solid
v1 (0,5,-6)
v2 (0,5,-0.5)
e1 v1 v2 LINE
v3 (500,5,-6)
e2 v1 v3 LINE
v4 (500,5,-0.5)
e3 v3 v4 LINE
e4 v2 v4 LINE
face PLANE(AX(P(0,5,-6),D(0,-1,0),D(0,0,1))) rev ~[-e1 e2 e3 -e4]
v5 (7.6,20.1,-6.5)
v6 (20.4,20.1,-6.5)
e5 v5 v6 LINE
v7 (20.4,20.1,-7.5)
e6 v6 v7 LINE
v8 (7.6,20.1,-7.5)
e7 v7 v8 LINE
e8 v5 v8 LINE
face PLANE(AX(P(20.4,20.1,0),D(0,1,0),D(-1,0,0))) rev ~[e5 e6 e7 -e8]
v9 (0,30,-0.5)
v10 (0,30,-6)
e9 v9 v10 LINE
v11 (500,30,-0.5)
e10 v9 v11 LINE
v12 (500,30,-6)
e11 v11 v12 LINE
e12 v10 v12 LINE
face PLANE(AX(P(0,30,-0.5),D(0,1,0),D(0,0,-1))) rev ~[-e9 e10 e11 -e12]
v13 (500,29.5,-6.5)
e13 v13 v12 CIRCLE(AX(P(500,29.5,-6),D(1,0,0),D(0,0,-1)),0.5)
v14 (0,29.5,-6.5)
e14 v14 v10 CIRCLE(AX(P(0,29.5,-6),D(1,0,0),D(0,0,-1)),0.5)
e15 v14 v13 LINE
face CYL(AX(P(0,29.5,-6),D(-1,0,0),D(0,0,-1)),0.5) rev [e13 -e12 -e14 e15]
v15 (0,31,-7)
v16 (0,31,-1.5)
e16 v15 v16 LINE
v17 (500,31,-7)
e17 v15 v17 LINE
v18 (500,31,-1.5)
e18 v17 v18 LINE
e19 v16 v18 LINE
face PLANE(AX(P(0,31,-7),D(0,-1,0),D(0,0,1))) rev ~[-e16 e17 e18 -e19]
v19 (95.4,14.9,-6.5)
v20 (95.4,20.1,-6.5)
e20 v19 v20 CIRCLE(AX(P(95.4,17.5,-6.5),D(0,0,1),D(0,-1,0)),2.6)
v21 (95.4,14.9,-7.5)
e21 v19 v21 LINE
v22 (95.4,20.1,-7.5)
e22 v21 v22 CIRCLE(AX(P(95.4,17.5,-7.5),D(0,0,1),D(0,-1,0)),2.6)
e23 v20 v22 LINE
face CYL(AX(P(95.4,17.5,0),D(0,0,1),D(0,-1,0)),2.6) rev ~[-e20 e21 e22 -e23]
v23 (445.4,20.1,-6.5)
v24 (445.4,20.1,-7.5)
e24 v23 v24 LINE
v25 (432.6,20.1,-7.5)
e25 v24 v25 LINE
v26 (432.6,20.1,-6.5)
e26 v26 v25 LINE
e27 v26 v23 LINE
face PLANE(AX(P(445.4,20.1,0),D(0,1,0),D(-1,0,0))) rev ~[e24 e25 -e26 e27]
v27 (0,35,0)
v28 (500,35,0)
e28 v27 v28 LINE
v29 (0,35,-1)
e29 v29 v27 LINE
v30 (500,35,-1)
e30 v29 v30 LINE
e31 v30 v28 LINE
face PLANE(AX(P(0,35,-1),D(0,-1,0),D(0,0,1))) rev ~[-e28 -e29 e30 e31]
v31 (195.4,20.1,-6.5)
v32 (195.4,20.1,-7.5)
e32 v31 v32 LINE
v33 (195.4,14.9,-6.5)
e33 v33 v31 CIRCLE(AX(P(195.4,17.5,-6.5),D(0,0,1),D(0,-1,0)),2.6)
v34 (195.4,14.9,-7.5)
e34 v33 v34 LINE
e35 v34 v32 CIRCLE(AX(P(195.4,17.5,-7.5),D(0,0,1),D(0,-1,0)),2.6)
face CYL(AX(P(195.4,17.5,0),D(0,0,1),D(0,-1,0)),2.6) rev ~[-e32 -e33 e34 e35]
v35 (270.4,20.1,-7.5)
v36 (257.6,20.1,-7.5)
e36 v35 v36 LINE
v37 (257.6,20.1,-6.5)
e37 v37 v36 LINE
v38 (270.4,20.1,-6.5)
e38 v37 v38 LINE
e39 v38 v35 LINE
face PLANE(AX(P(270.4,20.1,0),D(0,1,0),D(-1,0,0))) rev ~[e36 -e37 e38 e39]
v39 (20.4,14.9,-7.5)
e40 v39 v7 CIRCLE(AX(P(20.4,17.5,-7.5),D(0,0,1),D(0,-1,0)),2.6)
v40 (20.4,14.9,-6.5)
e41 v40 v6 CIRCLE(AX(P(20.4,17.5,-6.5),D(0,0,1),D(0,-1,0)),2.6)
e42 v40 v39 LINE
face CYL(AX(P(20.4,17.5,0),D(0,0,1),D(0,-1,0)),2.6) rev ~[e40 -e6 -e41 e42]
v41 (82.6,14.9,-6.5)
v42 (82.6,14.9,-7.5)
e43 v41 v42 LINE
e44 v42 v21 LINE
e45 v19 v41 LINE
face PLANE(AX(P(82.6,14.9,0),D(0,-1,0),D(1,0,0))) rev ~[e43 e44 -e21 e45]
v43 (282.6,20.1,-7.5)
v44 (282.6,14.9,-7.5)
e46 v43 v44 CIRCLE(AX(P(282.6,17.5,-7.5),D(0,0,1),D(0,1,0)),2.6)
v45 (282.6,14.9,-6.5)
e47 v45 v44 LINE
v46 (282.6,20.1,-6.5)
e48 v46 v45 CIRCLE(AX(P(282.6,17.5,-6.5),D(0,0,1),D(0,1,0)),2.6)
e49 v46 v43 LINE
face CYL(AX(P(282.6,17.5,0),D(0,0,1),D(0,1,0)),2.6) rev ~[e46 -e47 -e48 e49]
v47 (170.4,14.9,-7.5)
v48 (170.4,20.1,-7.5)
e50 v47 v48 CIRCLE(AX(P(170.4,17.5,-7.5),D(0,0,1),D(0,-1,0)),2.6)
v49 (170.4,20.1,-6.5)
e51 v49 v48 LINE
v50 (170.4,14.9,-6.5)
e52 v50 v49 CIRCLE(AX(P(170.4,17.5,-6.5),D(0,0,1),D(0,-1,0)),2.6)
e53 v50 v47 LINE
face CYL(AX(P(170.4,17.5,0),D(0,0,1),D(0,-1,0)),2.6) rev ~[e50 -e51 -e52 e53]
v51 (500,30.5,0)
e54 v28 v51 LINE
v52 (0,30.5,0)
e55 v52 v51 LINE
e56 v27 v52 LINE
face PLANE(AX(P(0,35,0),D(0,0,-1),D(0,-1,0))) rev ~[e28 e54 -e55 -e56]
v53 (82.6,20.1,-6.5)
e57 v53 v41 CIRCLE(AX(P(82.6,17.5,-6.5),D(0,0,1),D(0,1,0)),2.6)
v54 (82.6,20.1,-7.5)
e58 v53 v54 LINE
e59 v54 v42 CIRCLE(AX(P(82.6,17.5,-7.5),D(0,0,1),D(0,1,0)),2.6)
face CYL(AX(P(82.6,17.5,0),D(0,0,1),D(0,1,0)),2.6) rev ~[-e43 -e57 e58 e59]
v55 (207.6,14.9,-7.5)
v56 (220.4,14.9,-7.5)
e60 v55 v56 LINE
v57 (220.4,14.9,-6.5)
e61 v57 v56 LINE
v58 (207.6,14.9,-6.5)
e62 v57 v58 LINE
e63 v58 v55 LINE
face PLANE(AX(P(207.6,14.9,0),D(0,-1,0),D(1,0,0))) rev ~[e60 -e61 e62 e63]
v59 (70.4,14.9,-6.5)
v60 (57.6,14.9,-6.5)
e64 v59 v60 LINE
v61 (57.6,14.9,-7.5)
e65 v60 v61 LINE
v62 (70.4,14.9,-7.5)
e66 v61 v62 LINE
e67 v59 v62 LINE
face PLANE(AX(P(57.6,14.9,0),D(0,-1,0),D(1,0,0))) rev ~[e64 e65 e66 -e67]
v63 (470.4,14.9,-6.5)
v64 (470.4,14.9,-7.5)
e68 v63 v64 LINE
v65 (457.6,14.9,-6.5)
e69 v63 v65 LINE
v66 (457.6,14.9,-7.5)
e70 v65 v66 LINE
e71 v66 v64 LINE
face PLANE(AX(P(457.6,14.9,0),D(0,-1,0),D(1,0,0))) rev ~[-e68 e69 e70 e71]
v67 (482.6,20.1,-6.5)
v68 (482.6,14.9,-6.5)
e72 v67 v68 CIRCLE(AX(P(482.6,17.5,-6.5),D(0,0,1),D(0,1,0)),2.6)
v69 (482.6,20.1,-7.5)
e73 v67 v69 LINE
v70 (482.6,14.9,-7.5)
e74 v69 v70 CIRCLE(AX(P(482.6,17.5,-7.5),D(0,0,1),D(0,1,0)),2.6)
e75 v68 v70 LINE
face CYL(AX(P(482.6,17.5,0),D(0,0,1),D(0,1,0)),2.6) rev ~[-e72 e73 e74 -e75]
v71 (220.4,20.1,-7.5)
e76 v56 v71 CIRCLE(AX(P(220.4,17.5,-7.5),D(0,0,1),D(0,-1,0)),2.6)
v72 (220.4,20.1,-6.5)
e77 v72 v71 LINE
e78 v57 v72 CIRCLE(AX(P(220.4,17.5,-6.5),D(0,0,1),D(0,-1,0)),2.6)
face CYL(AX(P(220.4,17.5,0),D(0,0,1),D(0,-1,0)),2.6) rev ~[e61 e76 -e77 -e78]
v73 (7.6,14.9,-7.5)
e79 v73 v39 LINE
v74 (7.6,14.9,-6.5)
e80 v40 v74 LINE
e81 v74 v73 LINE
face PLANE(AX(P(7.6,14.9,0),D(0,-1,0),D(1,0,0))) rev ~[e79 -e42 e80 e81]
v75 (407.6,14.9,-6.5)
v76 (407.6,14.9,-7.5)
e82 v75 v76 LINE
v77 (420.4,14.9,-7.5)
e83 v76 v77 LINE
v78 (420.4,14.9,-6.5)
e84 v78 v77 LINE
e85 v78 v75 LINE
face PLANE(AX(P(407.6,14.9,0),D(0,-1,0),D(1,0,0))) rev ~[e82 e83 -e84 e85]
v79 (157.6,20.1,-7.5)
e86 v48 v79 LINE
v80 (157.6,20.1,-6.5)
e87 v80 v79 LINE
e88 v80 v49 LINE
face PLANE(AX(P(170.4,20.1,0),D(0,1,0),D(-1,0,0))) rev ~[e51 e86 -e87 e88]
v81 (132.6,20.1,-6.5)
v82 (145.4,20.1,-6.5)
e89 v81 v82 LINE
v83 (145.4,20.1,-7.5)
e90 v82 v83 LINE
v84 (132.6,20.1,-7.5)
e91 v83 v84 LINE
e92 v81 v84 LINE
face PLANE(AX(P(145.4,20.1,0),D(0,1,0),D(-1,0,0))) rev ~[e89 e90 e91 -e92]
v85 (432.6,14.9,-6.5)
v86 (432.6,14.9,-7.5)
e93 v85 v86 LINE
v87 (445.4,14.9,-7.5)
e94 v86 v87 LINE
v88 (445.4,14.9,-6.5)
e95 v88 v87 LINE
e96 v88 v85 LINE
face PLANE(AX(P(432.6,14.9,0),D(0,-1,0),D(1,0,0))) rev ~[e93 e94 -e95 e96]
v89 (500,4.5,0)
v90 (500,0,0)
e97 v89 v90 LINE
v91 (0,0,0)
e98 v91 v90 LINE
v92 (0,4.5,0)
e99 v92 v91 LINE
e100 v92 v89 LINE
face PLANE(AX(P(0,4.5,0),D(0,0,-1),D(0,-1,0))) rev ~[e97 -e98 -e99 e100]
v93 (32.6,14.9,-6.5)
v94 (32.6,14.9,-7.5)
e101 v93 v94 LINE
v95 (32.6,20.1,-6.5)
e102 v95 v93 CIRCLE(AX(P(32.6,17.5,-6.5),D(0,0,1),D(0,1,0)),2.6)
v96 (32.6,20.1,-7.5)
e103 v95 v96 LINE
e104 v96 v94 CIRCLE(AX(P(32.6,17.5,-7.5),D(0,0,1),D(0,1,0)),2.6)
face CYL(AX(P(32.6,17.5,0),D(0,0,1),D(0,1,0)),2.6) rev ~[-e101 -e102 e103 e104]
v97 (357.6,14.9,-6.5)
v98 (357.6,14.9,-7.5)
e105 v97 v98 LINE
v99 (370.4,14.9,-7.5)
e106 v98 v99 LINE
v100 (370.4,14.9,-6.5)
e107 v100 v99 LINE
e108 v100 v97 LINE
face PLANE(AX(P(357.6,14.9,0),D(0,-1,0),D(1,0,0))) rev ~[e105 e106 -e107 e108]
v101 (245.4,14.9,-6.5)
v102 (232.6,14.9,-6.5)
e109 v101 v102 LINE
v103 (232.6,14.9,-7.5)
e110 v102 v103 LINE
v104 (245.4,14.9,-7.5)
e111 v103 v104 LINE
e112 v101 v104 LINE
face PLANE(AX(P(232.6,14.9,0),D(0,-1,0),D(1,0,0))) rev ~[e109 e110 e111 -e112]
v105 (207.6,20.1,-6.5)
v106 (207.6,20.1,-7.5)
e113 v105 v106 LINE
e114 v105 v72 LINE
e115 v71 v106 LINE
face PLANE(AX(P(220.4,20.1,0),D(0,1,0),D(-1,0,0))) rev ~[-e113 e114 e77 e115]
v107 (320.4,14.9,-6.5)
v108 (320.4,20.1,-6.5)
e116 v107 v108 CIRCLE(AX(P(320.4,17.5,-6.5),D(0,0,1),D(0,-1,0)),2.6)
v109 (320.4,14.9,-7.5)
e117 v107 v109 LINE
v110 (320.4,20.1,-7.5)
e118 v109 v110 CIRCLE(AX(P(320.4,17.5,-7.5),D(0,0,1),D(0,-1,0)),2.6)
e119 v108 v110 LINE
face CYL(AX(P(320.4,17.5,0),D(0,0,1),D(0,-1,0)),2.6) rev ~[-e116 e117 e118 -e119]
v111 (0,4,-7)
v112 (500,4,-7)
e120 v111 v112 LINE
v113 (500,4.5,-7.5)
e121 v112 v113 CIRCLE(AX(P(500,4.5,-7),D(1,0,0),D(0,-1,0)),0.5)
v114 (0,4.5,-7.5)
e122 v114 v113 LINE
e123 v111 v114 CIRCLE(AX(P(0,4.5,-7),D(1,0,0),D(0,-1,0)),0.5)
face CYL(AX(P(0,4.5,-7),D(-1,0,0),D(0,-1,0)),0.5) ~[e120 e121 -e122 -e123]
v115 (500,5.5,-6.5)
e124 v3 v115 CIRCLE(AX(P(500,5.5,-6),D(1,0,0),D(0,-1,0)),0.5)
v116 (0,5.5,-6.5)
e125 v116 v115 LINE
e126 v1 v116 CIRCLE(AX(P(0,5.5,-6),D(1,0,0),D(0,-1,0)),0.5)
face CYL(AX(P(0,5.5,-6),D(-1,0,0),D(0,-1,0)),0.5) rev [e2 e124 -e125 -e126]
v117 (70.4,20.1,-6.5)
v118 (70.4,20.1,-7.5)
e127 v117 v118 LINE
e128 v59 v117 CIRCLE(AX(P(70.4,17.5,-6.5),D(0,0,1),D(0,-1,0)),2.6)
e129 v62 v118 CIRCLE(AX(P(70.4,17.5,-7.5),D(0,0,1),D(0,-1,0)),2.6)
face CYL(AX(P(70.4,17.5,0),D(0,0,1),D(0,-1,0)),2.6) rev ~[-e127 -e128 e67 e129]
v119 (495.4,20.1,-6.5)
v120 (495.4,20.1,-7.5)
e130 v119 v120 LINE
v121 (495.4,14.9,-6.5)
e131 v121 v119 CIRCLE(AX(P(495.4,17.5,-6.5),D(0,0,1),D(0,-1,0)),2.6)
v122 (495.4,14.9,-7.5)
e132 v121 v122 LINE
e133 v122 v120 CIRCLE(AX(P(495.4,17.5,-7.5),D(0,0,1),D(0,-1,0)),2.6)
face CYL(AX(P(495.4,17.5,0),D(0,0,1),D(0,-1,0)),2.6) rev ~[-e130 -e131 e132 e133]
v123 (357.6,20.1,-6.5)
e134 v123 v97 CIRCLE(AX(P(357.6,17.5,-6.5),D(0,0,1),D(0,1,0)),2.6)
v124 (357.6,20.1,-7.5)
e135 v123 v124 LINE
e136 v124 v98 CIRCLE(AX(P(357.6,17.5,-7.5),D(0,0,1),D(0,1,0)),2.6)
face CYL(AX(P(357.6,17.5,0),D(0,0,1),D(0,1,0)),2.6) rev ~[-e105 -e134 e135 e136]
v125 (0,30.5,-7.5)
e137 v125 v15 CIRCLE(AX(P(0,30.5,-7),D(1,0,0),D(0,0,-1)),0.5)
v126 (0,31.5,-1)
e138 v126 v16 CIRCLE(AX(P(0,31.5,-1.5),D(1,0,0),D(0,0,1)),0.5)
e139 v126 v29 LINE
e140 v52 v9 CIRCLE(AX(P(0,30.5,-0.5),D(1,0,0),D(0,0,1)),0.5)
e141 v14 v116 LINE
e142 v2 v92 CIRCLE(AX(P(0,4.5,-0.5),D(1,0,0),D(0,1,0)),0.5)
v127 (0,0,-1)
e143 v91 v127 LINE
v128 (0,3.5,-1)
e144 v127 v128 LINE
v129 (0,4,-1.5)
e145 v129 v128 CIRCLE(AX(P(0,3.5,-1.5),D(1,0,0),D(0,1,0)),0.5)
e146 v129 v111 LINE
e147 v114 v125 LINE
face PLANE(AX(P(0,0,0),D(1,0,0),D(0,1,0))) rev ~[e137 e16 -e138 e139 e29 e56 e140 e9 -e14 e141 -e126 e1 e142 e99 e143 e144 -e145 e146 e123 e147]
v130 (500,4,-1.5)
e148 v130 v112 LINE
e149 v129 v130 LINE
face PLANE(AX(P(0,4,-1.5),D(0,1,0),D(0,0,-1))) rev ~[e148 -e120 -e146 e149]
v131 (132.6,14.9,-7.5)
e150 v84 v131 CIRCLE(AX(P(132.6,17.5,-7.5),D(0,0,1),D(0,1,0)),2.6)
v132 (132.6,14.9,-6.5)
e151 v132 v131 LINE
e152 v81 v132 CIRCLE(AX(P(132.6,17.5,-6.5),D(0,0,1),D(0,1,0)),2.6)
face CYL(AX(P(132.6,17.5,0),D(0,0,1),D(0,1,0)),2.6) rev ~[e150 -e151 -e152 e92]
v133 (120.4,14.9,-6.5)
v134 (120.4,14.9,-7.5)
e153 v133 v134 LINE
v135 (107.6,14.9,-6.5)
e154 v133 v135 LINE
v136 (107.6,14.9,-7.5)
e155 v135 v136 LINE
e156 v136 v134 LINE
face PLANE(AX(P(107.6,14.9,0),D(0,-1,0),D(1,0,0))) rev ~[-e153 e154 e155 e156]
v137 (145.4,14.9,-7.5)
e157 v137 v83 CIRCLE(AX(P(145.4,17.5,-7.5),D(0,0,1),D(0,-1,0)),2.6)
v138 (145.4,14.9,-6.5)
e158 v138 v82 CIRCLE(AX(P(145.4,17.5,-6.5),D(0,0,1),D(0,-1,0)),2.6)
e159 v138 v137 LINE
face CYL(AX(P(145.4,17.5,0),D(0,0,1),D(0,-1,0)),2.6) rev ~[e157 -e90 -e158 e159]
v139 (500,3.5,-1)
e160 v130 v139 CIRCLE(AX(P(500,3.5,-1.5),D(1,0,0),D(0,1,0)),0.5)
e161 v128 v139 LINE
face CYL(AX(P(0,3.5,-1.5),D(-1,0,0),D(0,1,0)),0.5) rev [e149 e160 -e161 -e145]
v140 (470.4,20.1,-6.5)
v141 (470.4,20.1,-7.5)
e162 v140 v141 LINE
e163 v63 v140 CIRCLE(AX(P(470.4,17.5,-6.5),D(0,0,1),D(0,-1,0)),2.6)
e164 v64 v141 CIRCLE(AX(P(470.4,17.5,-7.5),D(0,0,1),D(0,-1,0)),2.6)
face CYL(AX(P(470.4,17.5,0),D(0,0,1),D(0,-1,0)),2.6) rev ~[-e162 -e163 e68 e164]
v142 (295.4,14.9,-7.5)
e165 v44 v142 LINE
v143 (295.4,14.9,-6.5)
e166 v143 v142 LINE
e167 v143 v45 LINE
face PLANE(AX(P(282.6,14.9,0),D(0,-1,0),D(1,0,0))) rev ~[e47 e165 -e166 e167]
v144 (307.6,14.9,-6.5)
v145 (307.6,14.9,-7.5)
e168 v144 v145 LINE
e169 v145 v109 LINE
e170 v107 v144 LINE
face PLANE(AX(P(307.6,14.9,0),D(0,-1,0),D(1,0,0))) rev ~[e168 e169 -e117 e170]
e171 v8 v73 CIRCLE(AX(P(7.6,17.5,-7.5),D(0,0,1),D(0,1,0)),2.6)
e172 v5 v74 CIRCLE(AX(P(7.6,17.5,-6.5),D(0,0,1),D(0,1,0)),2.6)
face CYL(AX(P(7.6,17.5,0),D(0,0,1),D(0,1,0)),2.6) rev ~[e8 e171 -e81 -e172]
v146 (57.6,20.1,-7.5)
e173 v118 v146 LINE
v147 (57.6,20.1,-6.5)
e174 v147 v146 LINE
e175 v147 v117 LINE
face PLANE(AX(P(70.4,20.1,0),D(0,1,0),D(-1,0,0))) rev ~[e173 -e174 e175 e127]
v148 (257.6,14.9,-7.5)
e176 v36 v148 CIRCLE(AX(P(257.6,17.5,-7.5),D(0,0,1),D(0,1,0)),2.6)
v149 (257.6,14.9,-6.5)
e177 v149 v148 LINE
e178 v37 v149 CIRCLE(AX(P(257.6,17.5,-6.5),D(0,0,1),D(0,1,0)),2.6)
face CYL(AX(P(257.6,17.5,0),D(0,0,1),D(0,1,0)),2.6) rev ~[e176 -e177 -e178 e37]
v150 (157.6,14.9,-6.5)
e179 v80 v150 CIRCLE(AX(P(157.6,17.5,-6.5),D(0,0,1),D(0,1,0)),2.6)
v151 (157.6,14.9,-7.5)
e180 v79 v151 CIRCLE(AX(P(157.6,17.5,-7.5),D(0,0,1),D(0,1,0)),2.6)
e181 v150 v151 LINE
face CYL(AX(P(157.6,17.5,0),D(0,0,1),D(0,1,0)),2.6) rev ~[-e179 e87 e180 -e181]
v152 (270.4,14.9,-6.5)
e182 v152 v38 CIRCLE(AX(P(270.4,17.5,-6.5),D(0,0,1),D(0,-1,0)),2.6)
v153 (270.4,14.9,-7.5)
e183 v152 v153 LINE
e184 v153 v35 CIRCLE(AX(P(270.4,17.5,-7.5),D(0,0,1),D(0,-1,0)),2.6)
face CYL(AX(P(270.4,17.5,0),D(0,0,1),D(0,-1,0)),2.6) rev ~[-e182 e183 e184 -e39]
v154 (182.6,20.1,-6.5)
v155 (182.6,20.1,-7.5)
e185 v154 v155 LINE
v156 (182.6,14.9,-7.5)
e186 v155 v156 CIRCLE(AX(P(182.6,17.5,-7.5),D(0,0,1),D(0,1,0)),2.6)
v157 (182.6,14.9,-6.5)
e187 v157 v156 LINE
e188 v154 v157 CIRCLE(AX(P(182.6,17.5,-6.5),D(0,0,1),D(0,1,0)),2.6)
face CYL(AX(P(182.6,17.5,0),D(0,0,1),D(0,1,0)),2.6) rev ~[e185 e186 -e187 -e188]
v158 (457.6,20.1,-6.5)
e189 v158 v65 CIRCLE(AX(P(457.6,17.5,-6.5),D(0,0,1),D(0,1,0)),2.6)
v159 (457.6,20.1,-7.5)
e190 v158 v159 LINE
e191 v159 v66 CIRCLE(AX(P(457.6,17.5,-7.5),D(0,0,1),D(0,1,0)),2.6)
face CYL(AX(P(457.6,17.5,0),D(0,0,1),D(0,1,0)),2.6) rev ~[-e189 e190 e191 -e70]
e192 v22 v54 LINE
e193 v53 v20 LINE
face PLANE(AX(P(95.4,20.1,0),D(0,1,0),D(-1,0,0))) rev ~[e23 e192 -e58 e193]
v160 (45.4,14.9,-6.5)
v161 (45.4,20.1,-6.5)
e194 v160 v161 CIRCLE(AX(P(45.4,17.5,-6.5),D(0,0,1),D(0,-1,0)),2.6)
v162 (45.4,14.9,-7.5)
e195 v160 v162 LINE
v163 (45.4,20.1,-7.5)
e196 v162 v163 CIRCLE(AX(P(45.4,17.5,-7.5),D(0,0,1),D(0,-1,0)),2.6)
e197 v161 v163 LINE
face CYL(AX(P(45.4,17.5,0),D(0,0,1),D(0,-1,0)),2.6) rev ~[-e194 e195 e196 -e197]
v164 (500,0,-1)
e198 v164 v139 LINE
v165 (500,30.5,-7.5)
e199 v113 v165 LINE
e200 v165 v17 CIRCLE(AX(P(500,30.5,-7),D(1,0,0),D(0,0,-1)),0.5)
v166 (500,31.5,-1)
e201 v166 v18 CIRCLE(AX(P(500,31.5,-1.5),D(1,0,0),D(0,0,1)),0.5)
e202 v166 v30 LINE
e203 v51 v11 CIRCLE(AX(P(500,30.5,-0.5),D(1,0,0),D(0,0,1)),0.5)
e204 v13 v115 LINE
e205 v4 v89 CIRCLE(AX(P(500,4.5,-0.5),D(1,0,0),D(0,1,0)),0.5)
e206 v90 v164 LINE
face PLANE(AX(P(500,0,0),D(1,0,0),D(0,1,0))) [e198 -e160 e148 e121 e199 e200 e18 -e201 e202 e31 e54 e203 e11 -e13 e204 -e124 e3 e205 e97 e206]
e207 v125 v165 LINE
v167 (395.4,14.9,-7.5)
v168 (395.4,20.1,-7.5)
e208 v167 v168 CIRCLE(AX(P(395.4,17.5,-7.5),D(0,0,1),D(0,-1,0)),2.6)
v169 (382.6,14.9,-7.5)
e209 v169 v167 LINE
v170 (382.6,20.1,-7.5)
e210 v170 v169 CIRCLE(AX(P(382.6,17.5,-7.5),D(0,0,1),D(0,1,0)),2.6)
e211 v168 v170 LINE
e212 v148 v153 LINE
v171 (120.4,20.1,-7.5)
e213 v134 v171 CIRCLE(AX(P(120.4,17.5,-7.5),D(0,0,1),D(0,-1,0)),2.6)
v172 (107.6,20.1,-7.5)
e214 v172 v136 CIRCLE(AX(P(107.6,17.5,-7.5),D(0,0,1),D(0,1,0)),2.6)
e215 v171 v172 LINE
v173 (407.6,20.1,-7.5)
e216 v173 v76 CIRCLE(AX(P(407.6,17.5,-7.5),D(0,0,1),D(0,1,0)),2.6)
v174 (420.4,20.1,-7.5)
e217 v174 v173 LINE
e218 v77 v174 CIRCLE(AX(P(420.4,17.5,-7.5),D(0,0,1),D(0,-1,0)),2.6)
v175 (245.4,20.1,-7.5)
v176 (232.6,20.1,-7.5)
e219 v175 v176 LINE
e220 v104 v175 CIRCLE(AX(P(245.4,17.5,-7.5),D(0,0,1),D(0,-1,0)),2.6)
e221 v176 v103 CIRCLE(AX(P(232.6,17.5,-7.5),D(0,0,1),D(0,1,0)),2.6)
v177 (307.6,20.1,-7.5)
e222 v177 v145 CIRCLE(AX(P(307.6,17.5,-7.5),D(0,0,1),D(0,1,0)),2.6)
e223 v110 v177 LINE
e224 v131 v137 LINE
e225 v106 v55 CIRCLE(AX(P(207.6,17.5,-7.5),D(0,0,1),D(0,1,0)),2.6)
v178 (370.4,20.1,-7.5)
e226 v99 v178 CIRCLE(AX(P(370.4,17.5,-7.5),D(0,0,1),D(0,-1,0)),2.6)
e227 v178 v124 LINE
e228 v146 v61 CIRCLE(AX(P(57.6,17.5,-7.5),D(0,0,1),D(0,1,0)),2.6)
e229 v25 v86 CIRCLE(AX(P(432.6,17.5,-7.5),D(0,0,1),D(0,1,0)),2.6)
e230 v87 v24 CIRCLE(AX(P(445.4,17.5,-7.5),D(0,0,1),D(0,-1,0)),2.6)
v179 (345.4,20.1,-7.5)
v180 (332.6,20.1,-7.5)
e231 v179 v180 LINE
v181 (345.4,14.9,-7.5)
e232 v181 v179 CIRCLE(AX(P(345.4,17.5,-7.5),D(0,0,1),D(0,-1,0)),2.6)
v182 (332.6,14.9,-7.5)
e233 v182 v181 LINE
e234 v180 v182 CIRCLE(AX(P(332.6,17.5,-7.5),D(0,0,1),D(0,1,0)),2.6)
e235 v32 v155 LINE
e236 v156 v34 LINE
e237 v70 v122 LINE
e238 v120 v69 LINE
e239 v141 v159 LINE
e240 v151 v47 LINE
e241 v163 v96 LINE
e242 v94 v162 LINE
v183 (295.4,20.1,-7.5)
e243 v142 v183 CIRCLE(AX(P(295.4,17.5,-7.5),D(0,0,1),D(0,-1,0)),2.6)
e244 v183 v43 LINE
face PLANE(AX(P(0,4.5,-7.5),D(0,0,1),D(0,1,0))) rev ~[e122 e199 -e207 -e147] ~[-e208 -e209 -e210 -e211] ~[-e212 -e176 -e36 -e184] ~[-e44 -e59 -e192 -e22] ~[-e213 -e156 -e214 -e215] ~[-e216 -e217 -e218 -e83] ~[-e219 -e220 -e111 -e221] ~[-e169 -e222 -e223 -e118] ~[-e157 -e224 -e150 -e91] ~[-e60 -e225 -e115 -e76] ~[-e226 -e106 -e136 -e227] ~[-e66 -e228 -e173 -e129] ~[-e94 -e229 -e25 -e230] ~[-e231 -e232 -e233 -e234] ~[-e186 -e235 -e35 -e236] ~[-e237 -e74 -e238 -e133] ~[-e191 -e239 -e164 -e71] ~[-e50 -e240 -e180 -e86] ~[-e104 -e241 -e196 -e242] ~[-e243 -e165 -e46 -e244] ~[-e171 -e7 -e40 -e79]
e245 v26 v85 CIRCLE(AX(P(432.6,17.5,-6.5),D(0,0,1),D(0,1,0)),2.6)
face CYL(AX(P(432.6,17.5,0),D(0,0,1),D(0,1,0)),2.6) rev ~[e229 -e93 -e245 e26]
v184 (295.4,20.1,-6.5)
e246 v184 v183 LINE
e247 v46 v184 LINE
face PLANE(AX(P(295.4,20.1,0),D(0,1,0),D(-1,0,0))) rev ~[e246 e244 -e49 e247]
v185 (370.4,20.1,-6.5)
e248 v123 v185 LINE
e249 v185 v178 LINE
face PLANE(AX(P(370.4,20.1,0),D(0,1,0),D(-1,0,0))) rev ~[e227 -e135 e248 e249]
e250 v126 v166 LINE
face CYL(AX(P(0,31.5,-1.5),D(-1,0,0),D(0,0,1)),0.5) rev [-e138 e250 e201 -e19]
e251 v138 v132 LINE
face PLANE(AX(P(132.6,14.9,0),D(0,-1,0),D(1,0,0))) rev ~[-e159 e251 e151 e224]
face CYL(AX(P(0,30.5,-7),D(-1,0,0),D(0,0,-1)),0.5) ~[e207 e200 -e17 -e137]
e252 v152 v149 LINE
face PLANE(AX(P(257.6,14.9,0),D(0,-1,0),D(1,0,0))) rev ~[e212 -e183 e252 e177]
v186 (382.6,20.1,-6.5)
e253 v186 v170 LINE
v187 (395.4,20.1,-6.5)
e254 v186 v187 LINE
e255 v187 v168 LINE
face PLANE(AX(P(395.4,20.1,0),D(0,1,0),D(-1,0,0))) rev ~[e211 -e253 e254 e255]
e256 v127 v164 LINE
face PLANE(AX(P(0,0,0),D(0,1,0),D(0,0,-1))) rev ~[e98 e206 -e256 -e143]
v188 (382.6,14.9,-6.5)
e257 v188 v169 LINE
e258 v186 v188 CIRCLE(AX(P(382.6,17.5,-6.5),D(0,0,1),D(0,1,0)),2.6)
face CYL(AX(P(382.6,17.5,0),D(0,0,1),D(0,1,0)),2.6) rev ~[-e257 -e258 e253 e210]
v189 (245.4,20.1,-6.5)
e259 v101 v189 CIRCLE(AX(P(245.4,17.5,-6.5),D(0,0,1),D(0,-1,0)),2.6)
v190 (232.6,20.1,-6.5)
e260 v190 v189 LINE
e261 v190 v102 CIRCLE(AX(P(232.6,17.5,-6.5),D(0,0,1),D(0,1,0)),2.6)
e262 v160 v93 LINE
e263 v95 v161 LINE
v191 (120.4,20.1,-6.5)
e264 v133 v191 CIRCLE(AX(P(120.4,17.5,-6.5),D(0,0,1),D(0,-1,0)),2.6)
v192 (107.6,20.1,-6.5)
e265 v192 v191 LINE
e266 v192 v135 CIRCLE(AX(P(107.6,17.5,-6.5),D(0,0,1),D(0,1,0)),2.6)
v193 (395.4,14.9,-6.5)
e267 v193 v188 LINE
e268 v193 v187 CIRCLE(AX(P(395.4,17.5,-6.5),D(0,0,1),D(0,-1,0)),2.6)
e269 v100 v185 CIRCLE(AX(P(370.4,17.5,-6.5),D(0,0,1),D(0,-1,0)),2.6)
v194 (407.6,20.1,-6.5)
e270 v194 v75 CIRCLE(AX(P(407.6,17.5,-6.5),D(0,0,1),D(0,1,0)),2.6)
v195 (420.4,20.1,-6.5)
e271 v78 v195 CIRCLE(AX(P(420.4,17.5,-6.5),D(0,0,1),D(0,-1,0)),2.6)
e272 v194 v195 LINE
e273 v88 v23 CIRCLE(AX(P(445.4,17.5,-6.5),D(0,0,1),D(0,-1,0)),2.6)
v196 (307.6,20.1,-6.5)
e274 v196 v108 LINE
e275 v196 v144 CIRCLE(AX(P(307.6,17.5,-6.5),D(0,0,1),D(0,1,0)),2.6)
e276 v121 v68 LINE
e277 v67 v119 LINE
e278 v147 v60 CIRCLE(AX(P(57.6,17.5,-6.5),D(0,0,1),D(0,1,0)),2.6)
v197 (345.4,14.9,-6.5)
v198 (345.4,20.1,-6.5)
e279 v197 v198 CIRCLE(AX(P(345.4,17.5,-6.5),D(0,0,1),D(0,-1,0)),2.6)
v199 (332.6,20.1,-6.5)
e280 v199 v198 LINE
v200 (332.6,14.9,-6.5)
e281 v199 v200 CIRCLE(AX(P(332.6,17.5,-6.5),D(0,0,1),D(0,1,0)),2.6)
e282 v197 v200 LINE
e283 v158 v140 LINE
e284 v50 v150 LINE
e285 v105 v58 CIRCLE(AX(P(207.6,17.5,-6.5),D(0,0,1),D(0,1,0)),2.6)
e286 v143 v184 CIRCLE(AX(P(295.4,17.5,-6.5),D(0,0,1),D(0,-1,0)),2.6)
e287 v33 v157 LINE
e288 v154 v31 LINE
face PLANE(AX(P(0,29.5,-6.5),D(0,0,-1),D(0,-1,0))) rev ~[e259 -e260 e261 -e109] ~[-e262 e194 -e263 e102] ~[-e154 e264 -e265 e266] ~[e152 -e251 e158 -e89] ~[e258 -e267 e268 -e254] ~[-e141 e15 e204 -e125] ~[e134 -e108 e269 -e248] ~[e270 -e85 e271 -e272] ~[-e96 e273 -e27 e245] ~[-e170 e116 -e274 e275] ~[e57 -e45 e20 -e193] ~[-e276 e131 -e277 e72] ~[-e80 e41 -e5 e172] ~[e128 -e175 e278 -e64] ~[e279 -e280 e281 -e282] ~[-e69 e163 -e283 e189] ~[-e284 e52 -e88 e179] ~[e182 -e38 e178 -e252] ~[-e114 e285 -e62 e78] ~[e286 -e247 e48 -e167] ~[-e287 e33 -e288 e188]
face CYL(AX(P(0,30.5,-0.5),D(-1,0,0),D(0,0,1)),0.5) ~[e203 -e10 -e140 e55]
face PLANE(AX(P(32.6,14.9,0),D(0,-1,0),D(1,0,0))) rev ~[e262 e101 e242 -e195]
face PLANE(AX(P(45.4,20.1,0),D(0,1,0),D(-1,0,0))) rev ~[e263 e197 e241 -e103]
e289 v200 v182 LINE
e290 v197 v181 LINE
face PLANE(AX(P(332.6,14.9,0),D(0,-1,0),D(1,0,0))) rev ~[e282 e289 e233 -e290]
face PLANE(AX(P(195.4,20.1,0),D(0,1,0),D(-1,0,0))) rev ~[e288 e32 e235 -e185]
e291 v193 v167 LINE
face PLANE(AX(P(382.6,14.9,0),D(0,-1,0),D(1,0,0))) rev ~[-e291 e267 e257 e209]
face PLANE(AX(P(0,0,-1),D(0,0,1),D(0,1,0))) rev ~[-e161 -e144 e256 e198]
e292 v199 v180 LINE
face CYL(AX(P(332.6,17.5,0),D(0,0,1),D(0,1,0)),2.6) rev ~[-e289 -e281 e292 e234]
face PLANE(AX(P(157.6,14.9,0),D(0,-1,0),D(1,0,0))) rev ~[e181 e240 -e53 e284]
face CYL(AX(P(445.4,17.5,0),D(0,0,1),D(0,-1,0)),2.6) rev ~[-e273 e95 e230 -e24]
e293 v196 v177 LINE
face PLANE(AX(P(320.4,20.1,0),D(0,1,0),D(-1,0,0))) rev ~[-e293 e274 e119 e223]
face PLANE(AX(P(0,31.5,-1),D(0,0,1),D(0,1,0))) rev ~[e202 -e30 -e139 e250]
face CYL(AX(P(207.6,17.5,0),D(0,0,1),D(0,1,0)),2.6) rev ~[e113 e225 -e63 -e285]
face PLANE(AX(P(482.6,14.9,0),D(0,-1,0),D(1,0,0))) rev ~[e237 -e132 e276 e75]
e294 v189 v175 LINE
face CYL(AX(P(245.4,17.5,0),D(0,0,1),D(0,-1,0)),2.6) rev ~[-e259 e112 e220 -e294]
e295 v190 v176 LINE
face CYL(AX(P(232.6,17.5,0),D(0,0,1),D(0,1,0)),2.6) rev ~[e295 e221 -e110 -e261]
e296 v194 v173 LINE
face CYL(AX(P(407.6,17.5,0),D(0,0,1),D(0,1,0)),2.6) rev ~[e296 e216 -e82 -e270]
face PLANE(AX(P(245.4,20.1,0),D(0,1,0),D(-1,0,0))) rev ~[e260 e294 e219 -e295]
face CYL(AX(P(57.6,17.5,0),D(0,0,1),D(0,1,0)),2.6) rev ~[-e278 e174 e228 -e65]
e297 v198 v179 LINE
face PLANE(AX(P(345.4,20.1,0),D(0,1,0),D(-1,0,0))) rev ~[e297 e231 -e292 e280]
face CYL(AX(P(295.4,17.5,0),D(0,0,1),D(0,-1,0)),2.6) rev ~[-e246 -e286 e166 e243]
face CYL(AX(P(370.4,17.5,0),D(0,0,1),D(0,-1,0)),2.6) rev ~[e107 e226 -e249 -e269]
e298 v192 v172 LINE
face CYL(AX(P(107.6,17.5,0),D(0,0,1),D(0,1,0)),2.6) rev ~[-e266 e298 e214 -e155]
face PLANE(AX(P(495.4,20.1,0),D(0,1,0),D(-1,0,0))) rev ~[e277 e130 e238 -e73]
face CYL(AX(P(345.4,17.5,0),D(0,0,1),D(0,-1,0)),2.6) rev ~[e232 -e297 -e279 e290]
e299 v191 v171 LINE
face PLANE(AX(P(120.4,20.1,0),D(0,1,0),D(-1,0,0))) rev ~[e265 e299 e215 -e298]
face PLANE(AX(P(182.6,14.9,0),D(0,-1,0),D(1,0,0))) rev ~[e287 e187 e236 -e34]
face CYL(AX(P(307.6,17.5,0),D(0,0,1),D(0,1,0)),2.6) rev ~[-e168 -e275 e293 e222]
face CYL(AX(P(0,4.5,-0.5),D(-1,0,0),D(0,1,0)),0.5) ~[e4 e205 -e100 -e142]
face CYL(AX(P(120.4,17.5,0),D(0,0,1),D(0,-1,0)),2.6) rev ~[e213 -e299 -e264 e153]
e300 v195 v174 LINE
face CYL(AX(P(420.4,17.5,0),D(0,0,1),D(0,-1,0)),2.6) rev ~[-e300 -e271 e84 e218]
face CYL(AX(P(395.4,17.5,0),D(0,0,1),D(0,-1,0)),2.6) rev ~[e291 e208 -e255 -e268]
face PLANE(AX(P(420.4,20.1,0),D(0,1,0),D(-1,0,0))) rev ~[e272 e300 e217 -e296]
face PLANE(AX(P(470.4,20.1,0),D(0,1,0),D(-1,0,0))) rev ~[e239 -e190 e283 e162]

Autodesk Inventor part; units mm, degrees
ref_plane "YZ Plane" through (0, 0, 0) normal (1, 0, 0) x (0, 1, 0)
ref_plane "XZ Plane" through (0, 0, 0) normal (0, 1, 0) x (-1, 0, 0)
ref_plane "XY Plane" through (0, 0, 0) normal (0, 0, 1) x (1, 0, 0)
sketch "Boceto principal" plane through (0, 0, 0) normal (1, 0, 0) x (0, 1, 0)
  line L0 (0, 0) -> (0, -1)
  line L1 (0, -1) -> (3.5, -1)
  line L2 (4, -1.5) -> (4, -7)
  line L3 (4.5, -7.5) -> (30.5, -7.5)
  line L4 (31, -7) -> (31, -1.5)
  line L5 (31.5, -1) -> (35, -1)
  line L6 (35, -1) -> (35, 0)
  line L7 (35, 0) -> (30.5, 0)
  line L8 (30, -0.5) -> (30, -6)
  line L9 (29.5, -6.5) -> (5.5, -6.5)
  line L10 (5, -6) -> (5, -0.5)
  line L11 (4.5, 0) -> (0, 0)
  arc A0 (4, -1.5) -> (3.5, -1) centre (3.5, -1.5) ccw
  arc A1 (4, -7) -> (4.5, -7.5) centre (4.5, -7) ccw
  arc A2 (30.5, -7.5) -> (31, -7) centre (30.5, -7) ccw
  arc A3 (31.5, -1) -> (31, -1.5) centre (31.5, -1.5) ccw
  arc A4 (30.5, 0) -> (30, -0.5) centre (30.5, -0.5) ccw
  arc A5 (29.5, -6.5) -> (30, -6) centre (29.5, -6) ccw
  arc A6 (5, -6) -> (5.5, -6.5) centre (5.5, -6) ccw
  arc A7 (5, -0.5) -> (4.5, 0) centre (4.5, -0.5) ccw
extrude "Extrusion1" add sketch "Boceto principal" along normal blind 500
sketch "Boceto agujeros" plane through (0, 0, 0) normal (0, 0, 1) x (1, 0, 0)
  line L0 (7.6, 14.9) -> (20.4, 14.9)
  line L1 (20.4, 20.1) -> (7.6, 20.1)
  arc A0 (7.6, 20.1) -> (7.6, 14.9) centre (7.6, 17.5) ccw
  arc A1 (20.4, 14.9) -> (20.4, 20.1) centre (20.4, 17.5) ccw
extrude "Extrusion2" cut sketch "Boceto agujeros" against normal blind 15
pattern_linear "Rectangular Pattern1" count 21 spacing 25 along (1, 0, 0) of "Extrusion2"
properties part number "Riel500mm"
